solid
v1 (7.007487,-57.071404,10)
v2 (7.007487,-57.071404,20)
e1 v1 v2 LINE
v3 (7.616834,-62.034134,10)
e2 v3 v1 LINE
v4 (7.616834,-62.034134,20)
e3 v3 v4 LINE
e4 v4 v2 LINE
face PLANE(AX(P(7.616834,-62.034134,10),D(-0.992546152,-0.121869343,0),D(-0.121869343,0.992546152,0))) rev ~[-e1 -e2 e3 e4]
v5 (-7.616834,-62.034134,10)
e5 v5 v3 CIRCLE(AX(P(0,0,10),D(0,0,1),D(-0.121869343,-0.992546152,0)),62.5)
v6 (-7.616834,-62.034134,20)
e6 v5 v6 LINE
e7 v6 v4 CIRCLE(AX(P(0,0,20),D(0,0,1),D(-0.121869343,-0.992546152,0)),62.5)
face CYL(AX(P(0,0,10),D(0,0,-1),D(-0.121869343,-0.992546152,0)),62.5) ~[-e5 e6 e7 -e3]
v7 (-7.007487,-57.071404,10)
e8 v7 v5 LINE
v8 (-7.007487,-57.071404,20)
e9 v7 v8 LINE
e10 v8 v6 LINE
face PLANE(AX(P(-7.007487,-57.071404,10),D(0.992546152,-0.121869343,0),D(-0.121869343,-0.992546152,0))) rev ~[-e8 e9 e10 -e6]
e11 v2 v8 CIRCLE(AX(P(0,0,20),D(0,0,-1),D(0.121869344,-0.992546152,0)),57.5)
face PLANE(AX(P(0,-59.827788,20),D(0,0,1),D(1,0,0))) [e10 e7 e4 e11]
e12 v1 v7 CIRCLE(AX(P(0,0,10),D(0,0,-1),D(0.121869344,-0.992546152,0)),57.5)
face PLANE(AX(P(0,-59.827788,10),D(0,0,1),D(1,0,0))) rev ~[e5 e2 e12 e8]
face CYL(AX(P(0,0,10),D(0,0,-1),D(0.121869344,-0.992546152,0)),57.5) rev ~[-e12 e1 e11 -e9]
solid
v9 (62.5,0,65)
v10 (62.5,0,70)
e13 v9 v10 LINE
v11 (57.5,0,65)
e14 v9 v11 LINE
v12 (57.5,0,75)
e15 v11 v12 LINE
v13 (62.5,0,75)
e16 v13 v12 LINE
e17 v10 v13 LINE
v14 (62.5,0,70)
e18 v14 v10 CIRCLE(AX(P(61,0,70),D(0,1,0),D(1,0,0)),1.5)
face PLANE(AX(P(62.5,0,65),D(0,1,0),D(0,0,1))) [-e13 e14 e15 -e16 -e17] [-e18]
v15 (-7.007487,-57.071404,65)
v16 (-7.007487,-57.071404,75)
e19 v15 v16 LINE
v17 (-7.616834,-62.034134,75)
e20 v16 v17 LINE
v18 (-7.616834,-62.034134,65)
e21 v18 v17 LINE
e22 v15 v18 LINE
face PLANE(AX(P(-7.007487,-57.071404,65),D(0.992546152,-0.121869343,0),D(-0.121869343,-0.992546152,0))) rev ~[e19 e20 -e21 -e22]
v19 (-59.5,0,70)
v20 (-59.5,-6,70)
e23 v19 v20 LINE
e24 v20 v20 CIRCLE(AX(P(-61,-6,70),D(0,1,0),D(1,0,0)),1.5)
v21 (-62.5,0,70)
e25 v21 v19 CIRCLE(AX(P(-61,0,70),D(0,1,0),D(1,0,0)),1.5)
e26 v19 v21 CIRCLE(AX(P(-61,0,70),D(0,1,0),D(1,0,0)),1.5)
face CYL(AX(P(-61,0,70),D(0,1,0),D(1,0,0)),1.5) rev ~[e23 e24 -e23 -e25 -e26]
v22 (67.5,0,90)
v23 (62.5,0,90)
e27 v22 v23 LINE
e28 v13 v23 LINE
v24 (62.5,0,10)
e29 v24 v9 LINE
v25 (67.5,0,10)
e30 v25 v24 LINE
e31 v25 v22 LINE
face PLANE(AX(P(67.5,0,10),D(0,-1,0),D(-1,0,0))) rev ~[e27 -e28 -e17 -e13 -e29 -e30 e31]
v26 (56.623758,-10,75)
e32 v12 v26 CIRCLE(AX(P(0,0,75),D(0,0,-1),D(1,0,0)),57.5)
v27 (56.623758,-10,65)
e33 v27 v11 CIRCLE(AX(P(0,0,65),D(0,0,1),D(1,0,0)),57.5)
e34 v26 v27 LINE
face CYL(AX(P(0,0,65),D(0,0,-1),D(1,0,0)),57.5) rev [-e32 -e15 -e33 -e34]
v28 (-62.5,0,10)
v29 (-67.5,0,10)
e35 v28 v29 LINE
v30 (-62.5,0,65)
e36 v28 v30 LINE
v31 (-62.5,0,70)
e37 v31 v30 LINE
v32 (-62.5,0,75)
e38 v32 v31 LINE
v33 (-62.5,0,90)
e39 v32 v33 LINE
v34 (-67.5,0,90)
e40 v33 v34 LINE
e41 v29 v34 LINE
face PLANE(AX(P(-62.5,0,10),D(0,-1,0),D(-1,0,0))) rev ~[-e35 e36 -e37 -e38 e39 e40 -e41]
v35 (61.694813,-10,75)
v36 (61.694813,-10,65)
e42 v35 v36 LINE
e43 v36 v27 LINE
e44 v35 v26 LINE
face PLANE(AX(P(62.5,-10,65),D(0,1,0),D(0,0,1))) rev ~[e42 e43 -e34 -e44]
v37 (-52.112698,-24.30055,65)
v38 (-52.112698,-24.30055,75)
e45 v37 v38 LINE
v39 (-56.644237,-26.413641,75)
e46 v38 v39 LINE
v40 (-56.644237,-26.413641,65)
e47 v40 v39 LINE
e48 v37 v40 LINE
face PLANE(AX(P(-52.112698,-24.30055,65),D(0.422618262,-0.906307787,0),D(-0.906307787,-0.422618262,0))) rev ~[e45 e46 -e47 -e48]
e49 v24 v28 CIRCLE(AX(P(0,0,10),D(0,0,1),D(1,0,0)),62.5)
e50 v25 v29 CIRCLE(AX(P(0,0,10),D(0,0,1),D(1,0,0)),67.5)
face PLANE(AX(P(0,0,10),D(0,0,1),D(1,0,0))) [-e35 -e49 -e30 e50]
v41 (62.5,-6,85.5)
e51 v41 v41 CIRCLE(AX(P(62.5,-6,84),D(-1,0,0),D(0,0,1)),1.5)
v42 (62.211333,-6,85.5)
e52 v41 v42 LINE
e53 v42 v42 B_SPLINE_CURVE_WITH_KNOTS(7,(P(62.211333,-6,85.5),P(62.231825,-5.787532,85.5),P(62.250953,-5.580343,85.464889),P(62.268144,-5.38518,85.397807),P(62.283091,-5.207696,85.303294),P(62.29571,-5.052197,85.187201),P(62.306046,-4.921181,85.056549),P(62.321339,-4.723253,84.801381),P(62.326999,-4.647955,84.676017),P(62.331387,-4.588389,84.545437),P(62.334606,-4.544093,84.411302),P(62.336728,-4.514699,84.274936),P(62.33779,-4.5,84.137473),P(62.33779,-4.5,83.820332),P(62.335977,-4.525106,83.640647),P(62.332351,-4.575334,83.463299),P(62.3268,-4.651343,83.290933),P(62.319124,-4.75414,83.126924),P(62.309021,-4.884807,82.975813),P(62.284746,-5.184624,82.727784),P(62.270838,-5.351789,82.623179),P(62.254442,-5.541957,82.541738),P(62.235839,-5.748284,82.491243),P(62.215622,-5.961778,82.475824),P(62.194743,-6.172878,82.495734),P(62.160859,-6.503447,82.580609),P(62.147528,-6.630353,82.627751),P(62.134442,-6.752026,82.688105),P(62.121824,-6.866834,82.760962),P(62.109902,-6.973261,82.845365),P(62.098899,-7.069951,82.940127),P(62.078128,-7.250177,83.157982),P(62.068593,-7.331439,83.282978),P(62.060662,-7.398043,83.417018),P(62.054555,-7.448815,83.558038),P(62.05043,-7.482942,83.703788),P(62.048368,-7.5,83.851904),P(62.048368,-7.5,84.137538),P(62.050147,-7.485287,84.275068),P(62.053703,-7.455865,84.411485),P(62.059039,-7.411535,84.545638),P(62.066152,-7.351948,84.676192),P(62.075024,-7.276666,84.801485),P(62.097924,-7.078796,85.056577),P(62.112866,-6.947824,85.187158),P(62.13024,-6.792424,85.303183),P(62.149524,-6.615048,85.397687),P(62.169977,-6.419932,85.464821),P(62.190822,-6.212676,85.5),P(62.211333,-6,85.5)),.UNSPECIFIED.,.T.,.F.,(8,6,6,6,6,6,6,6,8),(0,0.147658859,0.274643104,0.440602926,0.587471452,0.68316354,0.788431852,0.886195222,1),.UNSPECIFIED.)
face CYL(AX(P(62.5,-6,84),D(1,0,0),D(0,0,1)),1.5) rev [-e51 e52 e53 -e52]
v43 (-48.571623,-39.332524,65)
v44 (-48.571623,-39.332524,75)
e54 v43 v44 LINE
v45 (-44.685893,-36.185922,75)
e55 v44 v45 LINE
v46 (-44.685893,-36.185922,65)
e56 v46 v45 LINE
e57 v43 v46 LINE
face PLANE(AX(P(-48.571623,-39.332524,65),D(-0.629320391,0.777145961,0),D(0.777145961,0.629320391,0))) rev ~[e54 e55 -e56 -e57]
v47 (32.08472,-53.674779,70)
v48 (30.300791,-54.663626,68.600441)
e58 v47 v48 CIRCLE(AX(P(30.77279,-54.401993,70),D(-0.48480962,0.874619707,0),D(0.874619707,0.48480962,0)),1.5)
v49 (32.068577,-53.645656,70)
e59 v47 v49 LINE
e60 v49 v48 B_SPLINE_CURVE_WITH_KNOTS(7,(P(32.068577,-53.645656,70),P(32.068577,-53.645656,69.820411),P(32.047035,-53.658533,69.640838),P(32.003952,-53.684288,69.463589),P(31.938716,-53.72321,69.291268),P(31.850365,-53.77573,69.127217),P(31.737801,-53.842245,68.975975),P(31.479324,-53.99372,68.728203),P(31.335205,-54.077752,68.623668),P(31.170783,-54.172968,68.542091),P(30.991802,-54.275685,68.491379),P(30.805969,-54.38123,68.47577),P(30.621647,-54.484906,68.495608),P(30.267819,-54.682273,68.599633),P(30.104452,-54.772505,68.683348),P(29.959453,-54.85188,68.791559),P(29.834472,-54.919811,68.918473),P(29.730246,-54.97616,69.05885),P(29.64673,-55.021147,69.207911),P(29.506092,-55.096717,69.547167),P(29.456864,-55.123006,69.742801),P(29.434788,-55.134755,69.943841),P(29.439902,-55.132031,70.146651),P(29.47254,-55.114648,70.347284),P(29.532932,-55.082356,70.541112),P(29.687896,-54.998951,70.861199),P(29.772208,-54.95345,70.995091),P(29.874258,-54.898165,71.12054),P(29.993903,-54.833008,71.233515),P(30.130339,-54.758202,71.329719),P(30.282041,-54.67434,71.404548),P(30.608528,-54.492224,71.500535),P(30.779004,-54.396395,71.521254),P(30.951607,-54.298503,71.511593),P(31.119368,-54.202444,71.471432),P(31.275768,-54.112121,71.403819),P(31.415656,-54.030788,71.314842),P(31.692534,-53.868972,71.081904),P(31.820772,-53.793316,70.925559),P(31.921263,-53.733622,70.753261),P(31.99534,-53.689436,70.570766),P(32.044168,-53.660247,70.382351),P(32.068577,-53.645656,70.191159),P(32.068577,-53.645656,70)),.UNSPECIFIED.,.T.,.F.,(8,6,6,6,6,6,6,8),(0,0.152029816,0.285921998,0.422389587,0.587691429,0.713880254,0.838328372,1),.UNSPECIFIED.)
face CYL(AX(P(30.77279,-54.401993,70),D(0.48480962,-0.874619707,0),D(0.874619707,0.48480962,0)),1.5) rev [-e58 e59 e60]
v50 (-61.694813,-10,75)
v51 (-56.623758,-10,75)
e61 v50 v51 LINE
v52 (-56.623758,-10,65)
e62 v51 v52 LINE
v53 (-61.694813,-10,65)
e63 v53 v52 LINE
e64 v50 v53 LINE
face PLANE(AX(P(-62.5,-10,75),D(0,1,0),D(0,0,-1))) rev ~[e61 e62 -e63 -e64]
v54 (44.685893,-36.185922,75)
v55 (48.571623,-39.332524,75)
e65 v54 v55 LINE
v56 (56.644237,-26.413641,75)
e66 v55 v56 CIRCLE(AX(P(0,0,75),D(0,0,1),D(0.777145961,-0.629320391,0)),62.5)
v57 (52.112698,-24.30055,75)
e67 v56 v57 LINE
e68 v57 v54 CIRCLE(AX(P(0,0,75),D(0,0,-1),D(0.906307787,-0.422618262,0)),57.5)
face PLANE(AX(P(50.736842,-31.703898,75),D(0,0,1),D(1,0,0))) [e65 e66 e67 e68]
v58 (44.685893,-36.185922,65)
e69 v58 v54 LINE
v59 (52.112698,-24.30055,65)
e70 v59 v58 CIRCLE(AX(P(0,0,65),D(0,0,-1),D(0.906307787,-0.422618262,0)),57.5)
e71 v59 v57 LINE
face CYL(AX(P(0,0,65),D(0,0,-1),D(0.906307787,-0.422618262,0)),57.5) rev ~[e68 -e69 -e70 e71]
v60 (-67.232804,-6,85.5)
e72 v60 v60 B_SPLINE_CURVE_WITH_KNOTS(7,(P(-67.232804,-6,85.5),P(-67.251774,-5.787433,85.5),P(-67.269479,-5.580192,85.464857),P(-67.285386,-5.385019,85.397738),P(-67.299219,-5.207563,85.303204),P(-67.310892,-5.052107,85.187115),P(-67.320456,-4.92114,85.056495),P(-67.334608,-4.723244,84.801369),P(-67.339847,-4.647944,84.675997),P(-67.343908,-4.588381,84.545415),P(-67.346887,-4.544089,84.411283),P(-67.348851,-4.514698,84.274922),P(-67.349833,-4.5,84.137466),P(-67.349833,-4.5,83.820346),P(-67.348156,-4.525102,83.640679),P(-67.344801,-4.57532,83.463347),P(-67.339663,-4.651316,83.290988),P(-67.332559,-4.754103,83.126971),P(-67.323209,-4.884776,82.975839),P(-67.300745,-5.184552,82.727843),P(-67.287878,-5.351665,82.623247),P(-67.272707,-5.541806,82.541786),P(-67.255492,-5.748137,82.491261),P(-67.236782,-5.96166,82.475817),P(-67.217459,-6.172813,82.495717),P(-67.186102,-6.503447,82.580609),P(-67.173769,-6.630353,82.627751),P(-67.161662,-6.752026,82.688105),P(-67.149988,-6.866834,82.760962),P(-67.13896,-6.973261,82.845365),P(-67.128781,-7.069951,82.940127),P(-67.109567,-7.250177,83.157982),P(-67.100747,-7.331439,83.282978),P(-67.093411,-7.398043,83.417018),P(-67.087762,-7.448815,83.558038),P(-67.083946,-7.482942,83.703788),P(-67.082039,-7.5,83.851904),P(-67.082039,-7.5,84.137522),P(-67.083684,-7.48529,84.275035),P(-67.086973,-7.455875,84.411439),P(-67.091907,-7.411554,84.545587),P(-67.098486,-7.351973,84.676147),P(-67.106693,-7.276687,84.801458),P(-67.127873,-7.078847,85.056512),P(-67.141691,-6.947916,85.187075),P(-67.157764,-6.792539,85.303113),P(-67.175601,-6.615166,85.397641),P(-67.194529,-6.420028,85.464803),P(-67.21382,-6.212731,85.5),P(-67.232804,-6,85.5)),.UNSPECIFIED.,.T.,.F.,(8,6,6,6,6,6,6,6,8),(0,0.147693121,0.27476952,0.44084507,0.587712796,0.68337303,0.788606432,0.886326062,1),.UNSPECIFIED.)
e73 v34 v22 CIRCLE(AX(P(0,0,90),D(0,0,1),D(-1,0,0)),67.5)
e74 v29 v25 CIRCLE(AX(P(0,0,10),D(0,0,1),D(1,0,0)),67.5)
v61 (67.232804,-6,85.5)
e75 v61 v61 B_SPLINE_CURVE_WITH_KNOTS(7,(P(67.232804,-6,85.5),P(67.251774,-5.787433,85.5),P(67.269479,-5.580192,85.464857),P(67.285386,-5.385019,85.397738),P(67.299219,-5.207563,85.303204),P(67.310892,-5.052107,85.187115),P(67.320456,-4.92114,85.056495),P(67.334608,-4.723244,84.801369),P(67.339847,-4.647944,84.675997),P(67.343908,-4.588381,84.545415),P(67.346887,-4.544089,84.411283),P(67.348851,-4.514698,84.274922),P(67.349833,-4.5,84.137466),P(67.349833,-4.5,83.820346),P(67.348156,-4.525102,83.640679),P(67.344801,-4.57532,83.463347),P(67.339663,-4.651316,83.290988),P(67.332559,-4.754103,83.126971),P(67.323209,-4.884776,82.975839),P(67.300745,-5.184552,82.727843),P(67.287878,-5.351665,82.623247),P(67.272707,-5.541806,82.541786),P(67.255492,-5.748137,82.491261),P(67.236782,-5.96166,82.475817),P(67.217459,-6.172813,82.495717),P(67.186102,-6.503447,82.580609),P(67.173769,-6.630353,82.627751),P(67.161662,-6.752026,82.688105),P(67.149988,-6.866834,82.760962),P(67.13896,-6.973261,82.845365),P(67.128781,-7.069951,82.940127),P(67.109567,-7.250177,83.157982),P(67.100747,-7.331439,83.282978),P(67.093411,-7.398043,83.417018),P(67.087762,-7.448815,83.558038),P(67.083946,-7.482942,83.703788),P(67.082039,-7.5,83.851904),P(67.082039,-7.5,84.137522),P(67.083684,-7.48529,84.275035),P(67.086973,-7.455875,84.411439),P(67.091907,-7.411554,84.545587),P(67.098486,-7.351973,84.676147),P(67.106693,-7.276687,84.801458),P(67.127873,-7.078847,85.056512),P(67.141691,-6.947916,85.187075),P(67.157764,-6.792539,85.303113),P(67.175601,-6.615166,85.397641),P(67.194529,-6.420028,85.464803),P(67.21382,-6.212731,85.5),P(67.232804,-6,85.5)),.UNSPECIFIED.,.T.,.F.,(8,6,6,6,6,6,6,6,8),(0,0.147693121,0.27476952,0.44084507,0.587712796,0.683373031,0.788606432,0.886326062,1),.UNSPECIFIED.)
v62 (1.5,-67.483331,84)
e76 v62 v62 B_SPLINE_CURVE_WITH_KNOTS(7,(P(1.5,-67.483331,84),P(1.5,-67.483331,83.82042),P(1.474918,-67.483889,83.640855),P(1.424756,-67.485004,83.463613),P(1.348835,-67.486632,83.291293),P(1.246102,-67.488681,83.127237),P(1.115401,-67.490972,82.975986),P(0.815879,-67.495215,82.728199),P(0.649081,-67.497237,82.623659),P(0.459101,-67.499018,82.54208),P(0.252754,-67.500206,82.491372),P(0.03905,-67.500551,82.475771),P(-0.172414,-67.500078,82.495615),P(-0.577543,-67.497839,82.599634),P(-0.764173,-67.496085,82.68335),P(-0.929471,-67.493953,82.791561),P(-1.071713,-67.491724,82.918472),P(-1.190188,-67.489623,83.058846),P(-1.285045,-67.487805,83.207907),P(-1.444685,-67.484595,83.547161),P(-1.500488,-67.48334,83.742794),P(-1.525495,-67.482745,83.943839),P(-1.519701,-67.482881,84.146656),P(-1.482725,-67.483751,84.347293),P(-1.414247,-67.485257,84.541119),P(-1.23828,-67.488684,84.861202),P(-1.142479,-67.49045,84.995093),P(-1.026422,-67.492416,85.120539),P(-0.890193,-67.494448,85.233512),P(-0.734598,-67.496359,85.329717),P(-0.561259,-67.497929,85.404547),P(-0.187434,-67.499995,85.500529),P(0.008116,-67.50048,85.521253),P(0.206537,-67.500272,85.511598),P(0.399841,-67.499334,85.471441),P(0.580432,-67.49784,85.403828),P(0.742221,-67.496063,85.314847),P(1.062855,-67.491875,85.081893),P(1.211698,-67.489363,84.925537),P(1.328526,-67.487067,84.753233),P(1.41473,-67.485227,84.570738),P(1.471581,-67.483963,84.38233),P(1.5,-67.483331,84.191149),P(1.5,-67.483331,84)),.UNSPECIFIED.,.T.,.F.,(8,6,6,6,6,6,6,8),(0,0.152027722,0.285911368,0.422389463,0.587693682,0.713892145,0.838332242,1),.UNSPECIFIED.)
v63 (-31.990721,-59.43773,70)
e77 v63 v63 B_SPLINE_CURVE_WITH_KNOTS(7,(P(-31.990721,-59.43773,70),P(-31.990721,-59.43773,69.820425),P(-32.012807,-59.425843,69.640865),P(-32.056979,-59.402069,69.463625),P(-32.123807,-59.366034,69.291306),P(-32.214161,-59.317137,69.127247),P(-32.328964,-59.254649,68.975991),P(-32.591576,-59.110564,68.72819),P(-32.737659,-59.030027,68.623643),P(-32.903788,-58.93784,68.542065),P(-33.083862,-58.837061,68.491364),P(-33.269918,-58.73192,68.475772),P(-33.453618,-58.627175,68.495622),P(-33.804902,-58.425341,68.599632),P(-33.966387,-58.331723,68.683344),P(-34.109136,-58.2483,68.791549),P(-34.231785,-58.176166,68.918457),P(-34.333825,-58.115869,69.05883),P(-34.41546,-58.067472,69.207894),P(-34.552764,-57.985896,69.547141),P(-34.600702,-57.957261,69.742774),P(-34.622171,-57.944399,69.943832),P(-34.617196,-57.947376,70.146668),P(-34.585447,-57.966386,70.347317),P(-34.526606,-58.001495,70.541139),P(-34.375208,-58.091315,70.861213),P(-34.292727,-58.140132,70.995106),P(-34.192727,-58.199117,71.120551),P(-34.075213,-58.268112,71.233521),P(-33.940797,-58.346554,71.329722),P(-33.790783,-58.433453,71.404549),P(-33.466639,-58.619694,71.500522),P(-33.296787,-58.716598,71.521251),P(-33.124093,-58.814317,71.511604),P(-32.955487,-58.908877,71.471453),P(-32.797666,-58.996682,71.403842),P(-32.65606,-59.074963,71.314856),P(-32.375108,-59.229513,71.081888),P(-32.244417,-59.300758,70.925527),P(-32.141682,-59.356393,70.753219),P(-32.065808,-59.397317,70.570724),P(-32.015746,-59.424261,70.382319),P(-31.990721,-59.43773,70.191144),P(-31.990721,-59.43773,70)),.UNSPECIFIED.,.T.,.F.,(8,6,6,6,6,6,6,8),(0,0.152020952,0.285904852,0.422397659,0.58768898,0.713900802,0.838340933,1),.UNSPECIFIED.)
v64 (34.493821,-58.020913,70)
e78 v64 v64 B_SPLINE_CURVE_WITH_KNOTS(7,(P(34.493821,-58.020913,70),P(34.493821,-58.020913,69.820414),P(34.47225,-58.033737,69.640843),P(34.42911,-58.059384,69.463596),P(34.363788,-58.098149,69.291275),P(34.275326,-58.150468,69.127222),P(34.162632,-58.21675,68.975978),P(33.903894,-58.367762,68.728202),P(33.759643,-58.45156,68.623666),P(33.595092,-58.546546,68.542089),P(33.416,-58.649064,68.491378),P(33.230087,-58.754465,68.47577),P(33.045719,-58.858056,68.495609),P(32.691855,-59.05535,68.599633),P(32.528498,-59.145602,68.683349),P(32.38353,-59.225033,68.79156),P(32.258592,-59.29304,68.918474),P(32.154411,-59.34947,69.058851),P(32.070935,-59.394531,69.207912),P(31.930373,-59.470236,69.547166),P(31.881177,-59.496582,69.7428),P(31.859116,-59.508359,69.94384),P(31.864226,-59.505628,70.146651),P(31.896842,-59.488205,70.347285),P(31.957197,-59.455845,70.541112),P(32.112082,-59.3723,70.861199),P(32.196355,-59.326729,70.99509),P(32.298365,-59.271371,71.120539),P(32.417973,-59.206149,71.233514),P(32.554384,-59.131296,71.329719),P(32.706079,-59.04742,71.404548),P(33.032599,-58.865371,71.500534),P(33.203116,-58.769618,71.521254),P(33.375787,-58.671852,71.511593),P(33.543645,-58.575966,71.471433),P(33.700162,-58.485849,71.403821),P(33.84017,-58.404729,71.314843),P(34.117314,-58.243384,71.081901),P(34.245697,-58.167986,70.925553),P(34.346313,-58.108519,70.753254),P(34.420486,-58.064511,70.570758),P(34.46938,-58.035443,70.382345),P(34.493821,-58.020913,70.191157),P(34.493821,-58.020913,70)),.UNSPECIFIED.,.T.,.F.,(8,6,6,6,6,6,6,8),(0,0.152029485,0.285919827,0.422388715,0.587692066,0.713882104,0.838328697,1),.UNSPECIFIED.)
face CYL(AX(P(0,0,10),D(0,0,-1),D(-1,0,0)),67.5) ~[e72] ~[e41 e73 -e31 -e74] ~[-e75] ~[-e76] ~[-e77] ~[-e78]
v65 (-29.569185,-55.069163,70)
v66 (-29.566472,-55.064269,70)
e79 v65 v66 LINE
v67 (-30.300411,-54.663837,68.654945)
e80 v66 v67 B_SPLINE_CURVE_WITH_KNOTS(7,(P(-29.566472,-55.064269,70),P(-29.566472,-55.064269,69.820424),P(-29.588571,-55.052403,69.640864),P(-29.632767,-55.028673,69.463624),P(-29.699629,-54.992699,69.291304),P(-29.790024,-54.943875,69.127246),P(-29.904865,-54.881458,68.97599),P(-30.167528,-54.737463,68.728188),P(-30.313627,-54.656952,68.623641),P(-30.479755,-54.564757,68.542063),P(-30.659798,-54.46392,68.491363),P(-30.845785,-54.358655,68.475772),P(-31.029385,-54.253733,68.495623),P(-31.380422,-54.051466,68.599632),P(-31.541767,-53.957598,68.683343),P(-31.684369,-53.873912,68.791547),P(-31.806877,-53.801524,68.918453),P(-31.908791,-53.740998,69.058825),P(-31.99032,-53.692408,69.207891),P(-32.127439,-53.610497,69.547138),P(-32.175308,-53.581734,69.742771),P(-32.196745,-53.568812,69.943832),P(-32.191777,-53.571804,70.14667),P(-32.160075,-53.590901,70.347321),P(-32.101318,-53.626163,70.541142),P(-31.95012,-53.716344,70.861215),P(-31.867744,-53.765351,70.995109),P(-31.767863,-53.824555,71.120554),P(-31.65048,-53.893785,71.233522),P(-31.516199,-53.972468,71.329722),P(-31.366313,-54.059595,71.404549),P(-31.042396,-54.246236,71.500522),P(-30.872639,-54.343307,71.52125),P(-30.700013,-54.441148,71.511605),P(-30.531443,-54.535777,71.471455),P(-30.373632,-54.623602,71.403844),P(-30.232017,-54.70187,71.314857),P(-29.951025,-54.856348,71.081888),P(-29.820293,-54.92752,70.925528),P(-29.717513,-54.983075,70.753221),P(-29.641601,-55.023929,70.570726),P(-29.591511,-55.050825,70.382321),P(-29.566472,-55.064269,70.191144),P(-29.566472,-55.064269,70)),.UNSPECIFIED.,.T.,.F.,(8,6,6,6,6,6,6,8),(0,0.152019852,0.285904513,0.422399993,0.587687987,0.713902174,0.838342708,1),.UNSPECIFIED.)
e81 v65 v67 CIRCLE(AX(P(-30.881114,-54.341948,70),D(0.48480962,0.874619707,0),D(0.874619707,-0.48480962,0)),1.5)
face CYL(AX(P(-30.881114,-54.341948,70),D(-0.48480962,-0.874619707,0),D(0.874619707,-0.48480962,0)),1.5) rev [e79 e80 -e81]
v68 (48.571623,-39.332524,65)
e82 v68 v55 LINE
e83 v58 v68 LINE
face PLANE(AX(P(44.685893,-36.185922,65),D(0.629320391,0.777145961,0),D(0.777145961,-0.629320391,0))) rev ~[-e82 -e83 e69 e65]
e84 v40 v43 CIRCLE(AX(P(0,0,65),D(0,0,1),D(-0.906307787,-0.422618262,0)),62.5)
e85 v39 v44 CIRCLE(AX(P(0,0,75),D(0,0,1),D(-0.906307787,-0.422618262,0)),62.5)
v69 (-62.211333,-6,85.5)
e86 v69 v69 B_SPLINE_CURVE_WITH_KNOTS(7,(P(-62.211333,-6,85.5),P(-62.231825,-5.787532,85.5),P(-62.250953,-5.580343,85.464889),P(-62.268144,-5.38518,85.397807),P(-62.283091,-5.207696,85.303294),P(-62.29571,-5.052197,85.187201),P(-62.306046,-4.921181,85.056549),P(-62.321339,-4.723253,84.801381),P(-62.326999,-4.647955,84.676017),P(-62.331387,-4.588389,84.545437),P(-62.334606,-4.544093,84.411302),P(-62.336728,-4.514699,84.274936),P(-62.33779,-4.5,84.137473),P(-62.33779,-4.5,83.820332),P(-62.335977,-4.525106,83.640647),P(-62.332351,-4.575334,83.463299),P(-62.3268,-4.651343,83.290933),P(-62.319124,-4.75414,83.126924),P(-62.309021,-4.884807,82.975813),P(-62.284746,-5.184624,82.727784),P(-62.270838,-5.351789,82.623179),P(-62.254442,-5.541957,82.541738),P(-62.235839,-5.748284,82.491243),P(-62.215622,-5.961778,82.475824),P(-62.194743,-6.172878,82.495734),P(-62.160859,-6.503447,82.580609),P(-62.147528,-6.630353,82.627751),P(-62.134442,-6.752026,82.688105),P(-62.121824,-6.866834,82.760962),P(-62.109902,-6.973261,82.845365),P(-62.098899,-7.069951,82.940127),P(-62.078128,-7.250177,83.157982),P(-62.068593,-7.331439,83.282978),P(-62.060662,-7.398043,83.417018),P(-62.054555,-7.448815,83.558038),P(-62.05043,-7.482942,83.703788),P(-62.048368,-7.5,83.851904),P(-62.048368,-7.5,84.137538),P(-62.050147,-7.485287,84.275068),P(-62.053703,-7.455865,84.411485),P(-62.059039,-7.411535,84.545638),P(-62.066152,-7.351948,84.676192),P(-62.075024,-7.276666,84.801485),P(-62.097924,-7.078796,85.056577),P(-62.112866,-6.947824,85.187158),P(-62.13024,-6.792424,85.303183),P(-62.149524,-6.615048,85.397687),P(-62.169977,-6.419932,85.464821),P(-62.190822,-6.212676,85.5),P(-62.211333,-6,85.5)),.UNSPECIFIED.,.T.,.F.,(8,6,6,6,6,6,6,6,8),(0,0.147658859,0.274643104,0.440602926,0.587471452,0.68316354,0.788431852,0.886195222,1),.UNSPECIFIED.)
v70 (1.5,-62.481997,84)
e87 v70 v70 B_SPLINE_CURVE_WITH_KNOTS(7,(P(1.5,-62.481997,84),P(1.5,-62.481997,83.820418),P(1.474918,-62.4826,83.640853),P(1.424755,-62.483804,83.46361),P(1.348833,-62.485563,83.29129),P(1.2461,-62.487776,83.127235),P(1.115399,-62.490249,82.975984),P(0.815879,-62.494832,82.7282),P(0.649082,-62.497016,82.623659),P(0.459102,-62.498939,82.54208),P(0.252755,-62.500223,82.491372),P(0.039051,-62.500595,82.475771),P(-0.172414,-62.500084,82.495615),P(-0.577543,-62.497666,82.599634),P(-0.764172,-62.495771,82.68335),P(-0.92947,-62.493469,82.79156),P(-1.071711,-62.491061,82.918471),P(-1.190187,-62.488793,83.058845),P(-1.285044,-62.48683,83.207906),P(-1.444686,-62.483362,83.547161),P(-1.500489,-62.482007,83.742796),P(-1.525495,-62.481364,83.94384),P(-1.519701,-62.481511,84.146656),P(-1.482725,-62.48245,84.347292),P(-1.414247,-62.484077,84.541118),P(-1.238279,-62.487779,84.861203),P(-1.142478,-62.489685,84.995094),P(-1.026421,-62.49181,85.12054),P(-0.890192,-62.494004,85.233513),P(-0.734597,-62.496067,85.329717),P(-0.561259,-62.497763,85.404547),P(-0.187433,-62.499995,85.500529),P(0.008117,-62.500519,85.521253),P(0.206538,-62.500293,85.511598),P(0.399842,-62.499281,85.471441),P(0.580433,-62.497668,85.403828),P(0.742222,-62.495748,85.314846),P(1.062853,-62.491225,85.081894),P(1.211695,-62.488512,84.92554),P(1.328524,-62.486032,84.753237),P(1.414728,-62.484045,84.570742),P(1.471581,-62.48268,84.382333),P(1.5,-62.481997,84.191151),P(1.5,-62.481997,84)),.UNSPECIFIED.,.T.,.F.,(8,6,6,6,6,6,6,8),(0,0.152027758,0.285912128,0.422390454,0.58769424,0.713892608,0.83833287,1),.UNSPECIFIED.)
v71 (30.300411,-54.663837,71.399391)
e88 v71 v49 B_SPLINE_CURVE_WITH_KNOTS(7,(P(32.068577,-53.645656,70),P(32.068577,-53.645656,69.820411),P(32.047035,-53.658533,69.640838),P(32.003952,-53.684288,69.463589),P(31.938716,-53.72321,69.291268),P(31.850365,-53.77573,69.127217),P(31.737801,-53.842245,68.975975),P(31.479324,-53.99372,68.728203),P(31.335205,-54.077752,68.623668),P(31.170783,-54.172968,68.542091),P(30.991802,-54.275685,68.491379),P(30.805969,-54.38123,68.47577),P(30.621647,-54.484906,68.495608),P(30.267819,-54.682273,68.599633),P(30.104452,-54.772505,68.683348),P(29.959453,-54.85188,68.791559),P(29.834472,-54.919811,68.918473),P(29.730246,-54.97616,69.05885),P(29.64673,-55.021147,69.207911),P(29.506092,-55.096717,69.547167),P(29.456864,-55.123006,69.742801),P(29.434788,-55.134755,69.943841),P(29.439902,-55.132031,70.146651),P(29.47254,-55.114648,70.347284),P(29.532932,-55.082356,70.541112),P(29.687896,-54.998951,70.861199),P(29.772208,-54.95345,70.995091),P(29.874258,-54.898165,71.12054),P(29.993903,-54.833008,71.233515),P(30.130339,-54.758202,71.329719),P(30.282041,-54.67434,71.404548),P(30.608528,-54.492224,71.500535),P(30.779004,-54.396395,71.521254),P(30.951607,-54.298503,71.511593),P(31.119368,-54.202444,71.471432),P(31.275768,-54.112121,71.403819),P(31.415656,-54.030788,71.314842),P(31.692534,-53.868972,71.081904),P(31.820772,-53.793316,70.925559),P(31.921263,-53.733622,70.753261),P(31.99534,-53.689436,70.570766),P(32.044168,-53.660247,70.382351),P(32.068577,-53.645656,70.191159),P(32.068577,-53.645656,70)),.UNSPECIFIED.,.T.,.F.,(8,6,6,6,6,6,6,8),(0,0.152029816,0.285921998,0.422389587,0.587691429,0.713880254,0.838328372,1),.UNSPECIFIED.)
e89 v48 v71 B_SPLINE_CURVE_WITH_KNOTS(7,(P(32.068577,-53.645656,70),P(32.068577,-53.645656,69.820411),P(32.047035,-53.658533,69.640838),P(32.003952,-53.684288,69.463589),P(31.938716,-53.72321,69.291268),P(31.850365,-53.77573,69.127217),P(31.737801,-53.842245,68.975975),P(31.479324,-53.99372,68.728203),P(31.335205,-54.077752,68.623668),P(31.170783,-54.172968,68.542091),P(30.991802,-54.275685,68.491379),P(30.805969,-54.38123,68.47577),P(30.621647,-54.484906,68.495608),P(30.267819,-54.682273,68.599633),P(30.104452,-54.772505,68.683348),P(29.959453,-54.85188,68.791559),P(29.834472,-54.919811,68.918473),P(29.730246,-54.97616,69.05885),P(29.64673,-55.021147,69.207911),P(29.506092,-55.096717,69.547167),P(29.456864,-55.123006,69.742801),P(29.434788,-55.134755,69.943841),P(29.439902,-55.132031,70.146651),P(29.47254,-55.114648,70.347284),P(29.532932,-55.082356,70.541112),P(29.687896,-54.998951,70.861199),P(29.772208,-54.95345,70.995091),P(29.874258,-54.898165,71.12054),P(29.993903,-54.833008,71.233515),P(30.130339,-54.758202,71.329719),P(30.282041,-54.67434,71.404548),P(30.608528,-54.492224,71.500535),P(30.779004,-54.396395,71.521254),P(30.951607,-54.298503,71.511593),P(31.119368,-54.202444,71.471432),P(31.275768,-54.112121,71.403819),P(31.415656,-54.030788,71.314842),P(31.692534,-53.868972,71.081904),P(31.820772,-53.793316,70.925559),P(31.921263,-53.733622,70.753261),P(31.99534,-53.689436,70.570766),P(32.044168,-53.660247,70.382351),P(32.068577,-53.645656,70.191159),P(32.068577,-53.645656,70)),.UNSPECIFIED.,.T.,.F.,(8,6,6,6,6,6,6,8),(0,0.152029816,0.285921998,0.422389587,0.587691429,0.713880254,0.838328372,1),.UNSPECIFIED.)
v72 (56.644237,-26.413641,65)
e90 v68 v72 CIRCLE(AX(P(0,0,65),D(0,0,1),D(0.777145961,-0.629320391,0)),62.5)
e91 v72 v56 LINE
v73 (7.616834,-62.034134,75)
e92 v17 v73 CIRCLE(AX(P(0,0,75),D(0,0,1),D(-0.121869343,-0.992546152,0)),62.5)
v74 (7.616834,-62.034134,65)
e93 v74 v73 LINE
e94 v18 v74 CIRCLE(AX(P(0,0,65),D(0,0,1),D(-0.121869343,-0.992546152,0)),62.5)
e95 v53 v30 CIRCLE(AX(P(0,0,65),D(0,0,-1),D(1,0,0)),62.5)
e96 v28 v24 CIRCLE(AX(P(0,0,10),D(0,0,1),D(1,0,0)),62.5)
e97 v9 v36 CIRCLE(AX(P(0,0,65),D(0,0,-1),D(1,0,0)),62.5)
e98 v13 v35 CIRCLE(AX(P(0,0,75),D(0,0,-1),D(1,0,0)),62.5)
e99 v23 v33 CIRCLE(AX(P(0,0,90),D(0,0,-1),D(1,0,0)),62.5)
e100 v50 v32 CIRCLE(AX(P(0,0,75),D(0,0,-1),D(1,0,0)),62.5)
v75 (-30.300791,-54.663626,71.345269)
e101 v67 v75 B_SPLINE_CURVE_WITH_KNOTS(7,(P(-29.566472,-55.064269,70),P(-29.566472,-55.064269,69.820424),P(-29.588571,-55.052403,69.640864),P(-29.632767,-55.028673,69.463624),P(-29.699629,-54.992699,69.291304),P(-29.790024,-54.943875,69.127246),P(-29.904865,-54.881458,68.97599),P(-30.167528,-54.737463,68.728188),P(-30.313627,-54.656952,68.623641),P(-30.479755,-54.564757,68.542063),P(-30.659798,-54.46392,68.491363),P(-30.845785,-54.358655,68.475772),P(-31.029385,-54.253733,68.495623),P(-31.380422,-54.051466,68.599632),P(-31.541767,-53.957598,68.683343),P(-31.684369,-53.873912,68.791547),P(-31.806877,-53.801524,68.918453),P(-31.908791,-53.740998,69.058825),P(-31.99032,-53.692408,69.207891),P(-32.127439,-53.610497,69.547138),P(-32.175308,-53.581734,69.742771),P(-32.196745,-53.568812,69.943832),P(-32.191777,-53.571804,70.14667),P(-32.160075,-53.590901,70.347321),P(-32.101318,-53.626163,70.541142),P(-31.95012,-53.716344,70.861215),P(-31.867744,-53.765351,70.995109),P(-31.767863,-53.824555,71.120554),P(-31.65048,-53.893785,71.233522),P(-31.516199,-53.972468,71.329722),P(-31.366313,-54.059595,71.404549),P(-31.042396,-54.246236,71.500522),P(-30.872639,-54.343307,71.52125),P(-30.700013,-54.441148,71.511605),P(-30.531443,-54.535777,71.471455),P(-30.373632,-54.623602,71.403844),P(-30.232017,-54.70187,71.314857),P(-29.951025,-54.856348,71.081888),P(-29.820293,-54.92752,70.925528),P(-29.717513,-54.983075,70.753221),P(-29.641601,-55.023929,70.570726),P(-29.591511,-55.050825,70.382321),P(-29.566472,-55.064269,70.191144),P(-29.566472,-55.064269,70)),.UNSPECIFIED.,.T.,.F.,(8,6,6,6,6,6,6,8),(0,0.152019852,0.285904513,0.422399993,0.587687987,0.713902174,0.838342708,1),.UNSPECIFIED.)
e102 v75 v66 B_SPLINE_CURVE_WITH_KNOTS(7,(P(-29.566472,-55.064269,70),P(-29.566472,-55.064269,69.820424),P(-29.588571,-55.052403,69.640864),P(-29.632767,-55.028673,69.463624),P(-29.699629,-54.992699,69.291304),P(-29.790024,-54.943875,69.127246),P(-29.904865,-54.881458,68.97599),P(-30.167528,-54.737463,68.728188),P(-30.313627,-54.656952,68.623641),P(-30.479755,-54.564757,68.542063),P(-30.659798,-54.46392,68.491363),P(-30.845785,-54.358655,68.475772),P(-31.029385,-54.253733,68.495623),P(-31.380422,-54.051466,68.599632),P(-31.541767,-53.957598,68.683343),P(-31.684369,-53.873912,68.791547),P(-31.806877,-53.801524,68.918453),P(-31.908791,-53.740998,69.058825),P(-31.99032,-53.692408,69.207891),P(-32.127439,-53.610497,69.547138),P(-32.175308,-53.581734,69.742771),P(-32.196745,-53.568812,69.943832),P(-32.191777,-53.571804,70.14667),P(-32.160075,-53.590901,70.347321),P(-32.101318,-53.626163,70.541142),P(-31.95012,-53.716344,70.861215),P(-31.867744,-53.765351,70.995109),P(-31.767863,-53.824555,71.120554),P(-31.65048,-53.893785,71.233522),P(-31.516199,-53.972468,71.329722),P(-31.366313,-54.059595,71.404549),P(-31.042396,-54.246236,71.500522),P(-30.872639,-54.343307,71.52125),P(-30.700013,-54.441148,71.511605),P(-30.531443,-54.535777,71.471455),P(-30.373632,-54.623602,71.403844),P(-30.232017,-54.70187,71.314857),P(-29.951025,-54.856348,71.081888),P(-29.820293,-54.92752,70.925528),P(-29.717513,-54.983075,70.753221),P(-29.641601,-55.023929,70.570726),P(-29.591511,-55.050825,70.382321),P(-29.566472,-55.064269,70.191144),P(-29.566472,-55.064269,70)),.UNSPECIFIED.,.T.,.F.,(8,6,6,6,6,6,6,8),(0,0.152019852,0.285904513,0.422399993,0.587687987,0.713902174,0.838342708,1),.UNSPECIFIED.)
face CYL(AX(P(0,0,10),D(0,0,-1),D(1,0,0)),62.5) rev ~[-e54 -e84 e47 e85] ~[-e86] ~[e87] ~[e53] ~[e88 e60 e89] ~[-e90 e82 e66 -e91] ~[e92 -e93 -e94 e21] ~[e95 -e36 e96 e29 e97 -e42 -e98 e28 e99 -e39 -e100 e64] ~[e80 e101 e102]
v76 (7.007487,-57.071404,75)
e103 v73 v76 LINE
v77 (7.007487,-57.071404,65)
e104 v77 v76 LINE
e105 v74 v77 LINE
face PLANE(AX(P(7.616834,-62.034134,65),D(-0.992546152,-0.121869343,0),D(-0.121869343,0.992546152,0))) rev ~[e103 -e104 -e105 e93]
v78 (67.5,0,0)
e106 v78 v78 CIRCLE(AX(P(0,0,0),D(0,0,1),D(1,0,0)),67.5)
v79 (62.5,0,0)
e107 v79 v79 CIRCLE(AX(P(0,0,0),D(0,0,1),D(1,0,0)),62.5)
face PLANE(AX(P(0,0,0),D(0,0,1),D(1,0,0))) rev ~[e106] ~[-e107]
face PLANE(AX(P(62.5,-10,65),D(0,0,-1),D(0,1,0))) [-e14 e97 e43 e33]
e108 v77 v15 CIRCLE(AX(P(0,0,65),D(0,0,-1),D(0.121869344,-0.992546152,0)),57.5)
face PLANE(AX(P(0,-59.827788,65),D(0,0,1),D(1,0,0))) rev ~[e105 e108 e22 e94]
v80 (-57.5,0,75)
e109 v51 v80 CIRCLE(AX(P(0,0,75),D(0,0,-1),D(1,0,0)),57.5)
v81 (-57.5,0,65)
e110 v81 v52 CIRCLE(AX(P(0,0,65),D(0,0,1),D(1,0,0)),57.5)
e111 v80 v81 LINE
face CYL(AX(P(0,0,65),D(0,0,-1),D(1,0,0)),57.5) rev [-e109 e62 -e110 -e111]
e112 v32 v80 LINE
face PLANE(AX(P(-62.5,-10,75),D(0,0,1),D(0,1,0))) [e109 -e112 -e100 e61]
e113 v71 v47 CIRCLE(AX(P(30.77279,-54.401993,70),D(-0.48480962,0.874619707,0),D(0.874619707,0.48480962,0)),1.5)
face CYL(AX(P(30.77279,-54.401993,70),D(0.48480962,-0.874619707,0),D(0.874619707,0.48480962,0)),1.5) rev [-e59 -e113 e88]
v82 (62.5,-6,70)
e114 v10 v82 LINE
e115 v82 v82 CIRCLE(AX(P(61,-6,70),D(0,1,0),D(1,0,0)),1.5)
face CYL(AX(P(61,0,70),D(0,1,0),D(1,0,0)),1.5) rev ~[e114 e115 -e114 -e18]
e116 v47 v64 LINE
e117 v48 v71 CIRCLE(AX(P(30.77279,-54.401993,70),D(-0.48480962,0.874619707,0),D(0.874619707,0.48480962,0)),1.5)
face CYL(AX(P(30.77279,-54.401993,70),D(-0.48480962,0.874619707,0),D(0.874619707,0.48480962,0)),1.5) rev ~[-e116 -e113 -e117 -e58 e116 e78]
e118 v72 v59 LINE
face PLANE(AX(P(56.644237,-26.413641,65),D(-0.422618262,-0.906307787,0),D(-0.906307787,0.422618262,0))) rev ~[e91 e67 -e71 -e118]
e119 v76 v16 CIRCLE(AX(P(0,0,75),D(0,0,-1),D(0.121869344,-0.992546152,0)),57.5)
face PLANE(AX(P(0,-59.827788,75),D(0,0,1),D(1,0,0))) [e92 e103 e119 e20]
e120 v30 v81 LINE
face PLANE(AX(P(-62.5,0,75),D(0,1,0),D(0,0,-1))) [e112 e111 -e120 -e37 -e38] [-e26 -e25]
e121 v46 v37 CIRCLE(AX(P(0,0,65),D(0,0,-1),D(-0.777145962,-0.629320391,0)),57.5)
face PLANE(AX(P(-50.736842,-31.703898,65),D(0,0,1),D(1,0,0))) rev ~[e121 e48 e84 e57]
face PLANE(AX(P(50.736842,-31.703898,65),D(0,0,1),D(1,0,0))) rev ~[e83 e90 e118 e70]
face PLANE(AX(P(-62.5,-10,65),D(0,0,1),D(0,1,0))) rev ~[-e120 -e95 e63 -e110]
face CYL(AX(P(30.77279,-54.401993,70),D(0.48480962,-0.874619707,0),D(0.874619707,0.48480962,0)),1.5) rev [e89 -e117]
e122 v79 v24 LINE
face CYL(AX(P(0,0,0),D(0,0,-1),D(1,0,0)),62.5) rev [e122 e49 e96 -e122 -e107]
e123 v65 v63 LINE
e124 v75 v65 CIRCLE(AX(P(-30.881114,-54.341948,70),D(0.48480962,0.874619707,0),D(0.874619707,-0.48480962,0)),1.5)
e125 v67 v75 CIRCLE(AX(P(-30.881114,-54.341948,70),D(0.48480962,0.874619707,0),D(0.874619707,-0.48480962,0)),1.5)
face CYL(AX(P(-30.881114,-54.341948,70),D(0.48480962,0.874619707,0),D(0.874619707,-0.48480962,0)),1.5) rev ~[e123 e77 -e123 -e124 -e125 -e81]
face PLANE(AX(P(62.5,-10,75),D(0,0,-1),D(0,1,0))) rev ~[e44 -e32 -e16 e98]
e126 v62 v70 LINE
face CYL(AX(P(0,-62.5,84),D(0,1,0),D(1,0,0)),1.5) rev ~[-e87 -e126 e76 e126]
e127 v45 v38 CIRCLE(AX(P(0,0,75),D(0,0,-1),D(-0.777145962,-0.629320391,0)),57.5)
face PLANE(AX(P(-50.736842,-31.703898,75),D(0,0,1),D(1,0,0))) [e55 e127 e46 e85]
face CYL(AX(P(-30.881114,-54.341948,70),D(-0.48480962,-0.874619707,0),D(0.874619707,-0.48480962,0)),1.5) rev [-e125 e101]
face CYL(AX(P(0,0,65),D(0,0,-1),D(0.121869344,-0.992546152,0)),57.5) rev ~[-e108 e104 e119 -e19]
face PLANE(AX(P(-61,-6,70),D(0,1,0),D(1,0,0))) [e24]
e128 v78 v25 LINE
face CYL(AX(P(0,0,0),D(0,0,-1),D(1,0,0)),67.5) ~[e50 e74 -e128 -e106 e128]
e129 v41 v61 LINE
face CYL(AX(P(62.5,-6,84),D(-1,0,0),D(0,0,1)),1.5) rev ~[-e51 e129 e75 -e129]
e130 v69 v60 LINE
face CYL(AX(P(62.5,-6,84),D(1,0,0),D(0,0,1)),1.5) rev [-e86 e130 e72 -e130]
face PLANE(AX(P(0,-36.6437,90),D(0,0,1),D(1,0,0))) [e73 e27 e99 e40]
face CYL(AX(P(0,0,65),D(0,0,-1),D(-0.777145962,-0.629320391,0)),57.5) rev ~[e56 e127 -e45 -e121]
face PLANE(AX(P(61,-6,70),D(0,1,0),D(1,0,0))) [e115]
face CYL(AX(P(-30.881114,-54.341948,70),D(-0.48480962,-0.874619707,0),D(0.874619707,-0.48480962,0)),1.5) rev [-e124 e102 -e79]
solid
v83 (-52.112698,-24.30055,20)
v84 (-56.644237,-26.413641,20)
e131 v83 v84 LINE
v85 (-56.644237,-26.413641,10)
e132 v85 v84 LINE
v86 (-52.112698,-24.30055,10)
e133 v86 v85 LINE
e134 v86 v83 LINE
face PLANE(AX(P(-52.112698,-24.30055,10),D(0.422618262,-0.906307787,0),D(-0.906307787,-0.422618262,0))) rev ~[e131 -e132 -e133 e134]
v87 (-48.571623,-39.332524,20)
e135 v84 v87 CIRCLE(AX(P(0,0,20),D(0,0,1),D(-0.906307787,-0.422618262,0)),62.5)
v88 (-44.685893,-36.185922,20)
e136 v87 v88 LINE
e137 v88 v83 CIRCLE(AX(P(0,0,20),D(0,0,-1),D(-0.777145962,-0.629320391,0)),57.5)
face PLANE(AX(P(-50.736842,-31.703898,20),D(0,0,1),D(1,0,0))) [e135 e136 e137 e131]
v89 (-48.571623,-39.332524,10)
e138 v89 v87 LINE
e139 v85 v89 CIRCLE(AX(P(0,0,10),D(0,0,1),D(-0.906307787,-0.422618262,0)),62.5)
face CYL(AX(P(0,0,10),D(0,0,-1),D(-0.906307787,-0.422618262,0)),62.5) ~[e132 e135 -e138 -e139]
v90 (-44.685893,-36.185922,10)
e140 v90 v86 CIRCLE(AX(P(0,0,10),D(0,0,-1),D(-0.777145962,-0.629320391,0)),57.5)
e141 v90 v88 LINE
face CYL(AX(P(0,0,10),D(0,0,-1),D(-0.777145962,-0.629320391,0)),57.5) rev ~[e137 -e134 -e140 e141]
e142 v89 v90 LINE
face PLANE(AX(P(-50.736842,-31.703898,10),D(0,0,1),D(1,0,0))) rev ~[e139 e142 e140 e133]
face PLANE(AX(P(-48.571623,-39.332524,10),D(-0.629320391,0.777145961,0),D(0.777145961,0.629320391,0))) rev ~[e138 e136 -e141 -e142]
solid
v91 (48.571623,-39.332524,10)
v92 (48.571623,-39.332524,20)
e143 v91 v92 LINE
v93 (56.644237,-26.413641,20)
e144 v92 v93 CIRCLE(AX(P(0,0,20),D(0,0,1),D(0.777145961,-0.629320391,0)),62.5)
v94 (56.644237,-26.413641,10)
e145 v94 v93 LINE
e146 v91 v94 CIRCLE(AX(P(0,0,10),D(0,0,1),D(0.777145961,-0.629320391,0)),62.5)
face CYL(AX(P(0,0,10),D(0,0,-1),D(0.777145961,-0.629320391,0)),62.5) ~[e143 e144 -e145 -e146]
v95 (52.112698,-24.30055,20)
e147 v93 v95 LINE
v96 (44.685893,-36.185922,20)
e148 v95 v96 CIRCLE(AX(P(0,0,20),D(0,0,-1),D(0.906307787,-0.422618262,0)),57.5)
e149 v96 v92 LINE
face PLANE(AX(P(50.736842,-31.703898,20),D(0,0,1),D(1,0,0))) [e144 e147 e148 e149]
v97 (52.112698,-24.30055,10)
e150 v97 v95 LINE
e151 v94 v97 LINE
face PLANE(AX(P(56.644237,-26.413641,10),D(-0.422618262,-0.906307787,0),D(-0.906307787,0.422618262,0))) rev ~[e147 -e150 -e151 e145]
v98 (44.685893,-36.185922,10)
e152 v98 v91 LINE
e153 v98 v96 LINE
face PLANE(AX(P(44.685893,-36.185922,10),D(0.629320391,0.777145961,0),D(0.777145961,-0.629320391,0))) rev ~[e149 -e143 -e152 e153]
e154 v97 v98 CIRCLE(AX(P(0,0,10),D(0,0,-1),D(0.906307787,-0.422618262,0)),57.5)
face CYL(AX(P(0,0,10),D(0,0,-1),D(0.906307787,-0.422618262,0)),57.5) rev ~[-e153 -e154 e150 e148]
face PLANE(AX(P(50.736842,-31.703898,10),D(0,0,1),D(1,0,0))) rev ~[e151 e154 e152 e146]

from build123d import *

# Parameters (mm, degrees)
SKETCH2_R                = 67.5
SKETCH2_R_2              = 62.5
BOSS_EXTRUDE1_DEPTH      = 10
BOSS_EXTRUDE2_DEPTH      = 80
BOSS_EXTRUDE3_DEPTH      = 10
BOSS_EXTRUDE3_2_DEPTH    = 10
BOSS_EXTRUDE3_3_DEPTH    = 10
BOSS_EXTRUDE5_DEPTH      = 10
SKETCH12_W               = 10
SKETCH12_H               = 10
BOSS_EXTRUDE6_DEPTH      = 10
SKETCH14_W               = 10
SKETCH14_H               = 10
BOSS_EXTRUDE7_DEPTH      = 10
SKETCH13_R               = 57.5
CUT_EXTRUDE3_DEPTH       = 26
CUT_EXTRUDE3_DEPTH_BACK  = 66
SKETCH17_R               = 1.5
CUT_EXTRUDE4_DEPTH       = 6
SKETCH19_R               = 1.5
CUT_EXTRUDE5_DEPTH       = 131
CUT_EXTRUDE5_DEPTH_BACK  = 6
SKETCH20_R               = 1.5
CUT_EXTRUDE8_DEPTH       = 22
SKETCH21_R               = 1.5
CUT_EXTRUDE10_DEPTH      = 10
CUT_EXTRUDE10_DEPTH_BACK = 10
SKETCH22_R               = 1.5
CUT_EXTRUDE11_DEPTH      = 10
CUT_EXTRUDE11_DEPTH_BACK = 10


with BuildPart() as part:
    # Sketch2 → Boss-Extrude1 (new body)
    with BuildSketch(Plane.XY):
        Circle(SKETCH2_R)
        Circle(SKETCH2_R_2, mode=Mode.SUBTRACT)
    extrude(amount=BOSS_EXTRUDE1_DEPTH)

    # Sketch3 → Boss-Extrude2 (add)
    with BuildSketch(Plane.XY.offset(10)):
        with BuildLine():
            Line((67.5, 0), (62.5, 0))
            ThreePointArc((62.5, 0), (0, -62.5), (-62.5, 0))
            Line((-62.5, 0), (-67.5, 0))
            ThreePointArc((-67.5, 0), (0, -67.5), (67.5, 0))
        make_face()
    extrude(amount=BOSS_EXTRUDE2_DEPTH)

    # Sketch11 → Boss-Extrude5 (add)
    with BuildSketch(Plane.XY.offset(65)):
        with BuildLine():
            ThreePointArc((48.571622591, -39.332524441), (53.00300601, -33.119954015), (56.64423669, -26.413641359))
            Line((56.64423669, -26.413641359), (52.112697755, -24.30055005))
            ThreePointArc((52.112697755, -24.30055005), (48.762765529, -30.470357693), (44.685892784, -36.185922485))
            Line((44.685892784, -36.185922485), (48.571622591, -39.332524441))
        make_face()
        with BuildLine():
            Line((-7.007487246, -57.071403719), (-7.616833963, -62.034134478))
            ThreePointArc((-7.616833963, -62.034134478), (0, -62.5), (7.616833963, -62.034134478))
            Line((7.616833963, -62.034134478), (7.007487246, -57.071403719))
            ThreePointArc((7.007487246, -57.071403719), (0, -57.5), (-7.007487246, -57.071403719))
        make_face()
        with BuildLine():
            Line((-52.112697755, -24.30055005), (-56.64423669, -26.413641359))
            ThreePointArc((-56.64423669, -26.413641359), (-53.00300601, -33.119954015), (-48.571622591, -39.332524441))
            Line((-48.571622591, -39.332524441), (-44.685892784, -36.185922485))
            ThreePointArc((-44.685892784, -36.185922485), (-48.762765529, -30.470357693), (-52.112697755, -24.30055005))
        make_face()
    extrude(amount=BOSS_EXTRUDE5_DEPTH)

    # Sketch12 → Boss-Extrude6 (add)
    with BuildSketch(Plane.ZY.offset(-62.5)):
        with Locations((70, -5)):
            Rectangle(SKETCH12_W, SKETCH12_H)
    extrude(amount=BOSS_EXTRUDE6_DEPTH)

    # Sketch14 → Boss-Extrude7 (add)
    with BuildSketch(Plane(origin=(-62.5, 0, 0), x_dir=(0, 0, -1), z_dir=(1, 0, 0))):
        with Locations((-70, -5)):
            Rectangle(SKETCH14_W, SKETCH14_H)
    extrude(amount=BOSS_EXTRUDE7_DEPTH)

    # Sketch13 → Cut-Extrude3 (cut, two sides)
    with BuildSketch(Plane.XY.offset(65)) as cut_extrude3_sk:
        Circle(SKETCH13_R)
    extrude(amount=CUT_EXTRUDE3_DEPTH, mode=Mode.SUBTRACT)
    extrude(cut_extrude3_sk.sketch, amount=-CUT_EXTRUDE3_DEPTH_BACK, mode=Mode.SUBTRACT)

    # Sketch17 → Cut-Extrude4 (cut)
    with BuildSketch(Plane(origin=(0, 0, 0), x_dir=(1, 0, 0), z_dir=(0, 1, 0))):
        with Locations((61, -70)):
            Circle(SKETCH17_R)
        with Locations((-61, -70)):
            Circle(SKETCH17_R)
    extrude(amount=-CUT_EXTRUDE4_DEPTH, mode=Mode.SUBTRACT)

    # Sketch19 → Cut-Extrude5 (cut, two sides)
    with BuildSketch(Plane.ZY.offset(-62.5)) as cut_extrude5_sk:
        with Locations((84, -6)):
            Circle(SKETCH19_R)
    extrude(amount=CUT_EXTRUDE5_DEPTH, mode=Mode.SUBTRACT)
    extrude(cut_extrude5_sk.sketch, amount=-CUT_EXTRUDE5_DEPTH_BACK, mode=Mode.SUBTRACT)

    # Sketch20 → Cut-Extrude8 (cut, symmetric)
    with BuildSketch(Plane(origin=(0, -62.5, 0), x_dir=(1, 0, 0), z_dir=(0, 1, 0))):
        with Locations((0, -84)):
            Circle(SKETCH20_R)
    extrude(amount=CUT_EXTRUDE8_DEPTH, both=True, mode=Mode.SUBTRACT)

    # Sketch21 → Cut-Extrude10 (cut, two sides)
    with BuildSketch(Plane(origin=(-30.300601265, -54.663731696, 0), x_dir=(0.874619707, -0.48480962, 0), z_dir=(0.48480962, 0.874619707, 0))) as cut_extrude10_sk:
        with Locations((-0.663731696, -70)):
            Circle(SKETCH21_R)
    extrude(amount=CUT_EXTRUDE10_DEPTH, mode=Mode.SUBTRACT)
    extrude(cut_extrude10_sk.sketch, amount=-CUT_EXTRUDE10_DEPTH_BACK, mode=Mode.SUBTRACT)

    # Sketch22 → Cut-Extrude11 (cut, two sides)
    with BuildSketch(Plane(origin=(30.300601265, -54.663731696, 0), x_dir=(0.874619707, 0.48480962, 0), z_dir=(-0.48480962, 0.874619707, 0))) as cut_extrude11_sk:
        with Locations((0.539879121, -70)):
            Circle(SKETCH22_R)
    extrude(amount=CUT_EXTRUDE11_DEPTH, mode=Mode.SUBTRACT)
    extrude(cut_extrude11_sk.sketch, amount=-CUT_EXTRUDE11_DEPTH_BACK, mode=Mode.SUBTRACT)


with BuildPart() as body_2:
    # Sketch6 → Boss-Extrude3 (new body)
    with BuildSketch(Plane.XY.offset(10)):
        with BuildLine():
            Line((-7.007487246, -57.071403719), (-7.616833963, -62.034134478))
            ThreePointArc((-7.616833963, -62.034134478), (0, -62.5), (7.616833963, -62.034134478))
            Line((7.616833963, -62.034134478), (7.007487246, -57.071403719))
            ThreePointArc((7.007487246, -57.071403719), (0, -57.5), (-7.007487246, -57.071403719))
        make_face()
    extrude(amount=BOSS_EXTRUDE3_DEPTH)


with BuildPart() as body_3:
    # Sketch6 → Boss-Extrude3 2 (new body)
    with BuildSketch(Plane.XY.offset(10)):
        with BuildLine():
            ThreePointArc((48.571622591, -39.332524441), (53.00300601, -33.119954015), (56.64423669, -26.413641359))
            Line((56.64423669, -26.413641359), (52.112697755, -24.30055005))
            ThreePointArc((52.112697755, -24.30055005), (48.762765529, -30.470357693), (44.685892784, -36.185922485))
            Line((44.685892784, -36.185922485), (48.571622591, -39.332524441))
        make_face()
    extrude(amount=BOSS_EXTRUDE3_2_DEPTH)


with BuildPart() as body_4:
    # Sketch6 → Boss-Extrude3 3 (new body)
    with BuildSketch(Plane.XY.offset(10)):
        with BuildLine():
            Line((-52.112697755, -24.30055005), (-56.64423669, -26.413641359))
            ThreePointArc((-56.64423669, -26.413641359), (-53.00300601, -33.119954015), (-48.571622591, -39.332524441))
            Line((-48.571622591, -39.332524441), (-44.685892784, -36.185922485))
            ThreePointArc((-44.685892784, -36.185922485), (-48.762765529, -30.470357693), (-52.112697755, -24.30055005))
        make_face()
    extrude(amount=BOSS_EXTRUDE3_3_DEPTH)


solid = Compound([part.part, body_2.part, body_3.part, body_4.part])
